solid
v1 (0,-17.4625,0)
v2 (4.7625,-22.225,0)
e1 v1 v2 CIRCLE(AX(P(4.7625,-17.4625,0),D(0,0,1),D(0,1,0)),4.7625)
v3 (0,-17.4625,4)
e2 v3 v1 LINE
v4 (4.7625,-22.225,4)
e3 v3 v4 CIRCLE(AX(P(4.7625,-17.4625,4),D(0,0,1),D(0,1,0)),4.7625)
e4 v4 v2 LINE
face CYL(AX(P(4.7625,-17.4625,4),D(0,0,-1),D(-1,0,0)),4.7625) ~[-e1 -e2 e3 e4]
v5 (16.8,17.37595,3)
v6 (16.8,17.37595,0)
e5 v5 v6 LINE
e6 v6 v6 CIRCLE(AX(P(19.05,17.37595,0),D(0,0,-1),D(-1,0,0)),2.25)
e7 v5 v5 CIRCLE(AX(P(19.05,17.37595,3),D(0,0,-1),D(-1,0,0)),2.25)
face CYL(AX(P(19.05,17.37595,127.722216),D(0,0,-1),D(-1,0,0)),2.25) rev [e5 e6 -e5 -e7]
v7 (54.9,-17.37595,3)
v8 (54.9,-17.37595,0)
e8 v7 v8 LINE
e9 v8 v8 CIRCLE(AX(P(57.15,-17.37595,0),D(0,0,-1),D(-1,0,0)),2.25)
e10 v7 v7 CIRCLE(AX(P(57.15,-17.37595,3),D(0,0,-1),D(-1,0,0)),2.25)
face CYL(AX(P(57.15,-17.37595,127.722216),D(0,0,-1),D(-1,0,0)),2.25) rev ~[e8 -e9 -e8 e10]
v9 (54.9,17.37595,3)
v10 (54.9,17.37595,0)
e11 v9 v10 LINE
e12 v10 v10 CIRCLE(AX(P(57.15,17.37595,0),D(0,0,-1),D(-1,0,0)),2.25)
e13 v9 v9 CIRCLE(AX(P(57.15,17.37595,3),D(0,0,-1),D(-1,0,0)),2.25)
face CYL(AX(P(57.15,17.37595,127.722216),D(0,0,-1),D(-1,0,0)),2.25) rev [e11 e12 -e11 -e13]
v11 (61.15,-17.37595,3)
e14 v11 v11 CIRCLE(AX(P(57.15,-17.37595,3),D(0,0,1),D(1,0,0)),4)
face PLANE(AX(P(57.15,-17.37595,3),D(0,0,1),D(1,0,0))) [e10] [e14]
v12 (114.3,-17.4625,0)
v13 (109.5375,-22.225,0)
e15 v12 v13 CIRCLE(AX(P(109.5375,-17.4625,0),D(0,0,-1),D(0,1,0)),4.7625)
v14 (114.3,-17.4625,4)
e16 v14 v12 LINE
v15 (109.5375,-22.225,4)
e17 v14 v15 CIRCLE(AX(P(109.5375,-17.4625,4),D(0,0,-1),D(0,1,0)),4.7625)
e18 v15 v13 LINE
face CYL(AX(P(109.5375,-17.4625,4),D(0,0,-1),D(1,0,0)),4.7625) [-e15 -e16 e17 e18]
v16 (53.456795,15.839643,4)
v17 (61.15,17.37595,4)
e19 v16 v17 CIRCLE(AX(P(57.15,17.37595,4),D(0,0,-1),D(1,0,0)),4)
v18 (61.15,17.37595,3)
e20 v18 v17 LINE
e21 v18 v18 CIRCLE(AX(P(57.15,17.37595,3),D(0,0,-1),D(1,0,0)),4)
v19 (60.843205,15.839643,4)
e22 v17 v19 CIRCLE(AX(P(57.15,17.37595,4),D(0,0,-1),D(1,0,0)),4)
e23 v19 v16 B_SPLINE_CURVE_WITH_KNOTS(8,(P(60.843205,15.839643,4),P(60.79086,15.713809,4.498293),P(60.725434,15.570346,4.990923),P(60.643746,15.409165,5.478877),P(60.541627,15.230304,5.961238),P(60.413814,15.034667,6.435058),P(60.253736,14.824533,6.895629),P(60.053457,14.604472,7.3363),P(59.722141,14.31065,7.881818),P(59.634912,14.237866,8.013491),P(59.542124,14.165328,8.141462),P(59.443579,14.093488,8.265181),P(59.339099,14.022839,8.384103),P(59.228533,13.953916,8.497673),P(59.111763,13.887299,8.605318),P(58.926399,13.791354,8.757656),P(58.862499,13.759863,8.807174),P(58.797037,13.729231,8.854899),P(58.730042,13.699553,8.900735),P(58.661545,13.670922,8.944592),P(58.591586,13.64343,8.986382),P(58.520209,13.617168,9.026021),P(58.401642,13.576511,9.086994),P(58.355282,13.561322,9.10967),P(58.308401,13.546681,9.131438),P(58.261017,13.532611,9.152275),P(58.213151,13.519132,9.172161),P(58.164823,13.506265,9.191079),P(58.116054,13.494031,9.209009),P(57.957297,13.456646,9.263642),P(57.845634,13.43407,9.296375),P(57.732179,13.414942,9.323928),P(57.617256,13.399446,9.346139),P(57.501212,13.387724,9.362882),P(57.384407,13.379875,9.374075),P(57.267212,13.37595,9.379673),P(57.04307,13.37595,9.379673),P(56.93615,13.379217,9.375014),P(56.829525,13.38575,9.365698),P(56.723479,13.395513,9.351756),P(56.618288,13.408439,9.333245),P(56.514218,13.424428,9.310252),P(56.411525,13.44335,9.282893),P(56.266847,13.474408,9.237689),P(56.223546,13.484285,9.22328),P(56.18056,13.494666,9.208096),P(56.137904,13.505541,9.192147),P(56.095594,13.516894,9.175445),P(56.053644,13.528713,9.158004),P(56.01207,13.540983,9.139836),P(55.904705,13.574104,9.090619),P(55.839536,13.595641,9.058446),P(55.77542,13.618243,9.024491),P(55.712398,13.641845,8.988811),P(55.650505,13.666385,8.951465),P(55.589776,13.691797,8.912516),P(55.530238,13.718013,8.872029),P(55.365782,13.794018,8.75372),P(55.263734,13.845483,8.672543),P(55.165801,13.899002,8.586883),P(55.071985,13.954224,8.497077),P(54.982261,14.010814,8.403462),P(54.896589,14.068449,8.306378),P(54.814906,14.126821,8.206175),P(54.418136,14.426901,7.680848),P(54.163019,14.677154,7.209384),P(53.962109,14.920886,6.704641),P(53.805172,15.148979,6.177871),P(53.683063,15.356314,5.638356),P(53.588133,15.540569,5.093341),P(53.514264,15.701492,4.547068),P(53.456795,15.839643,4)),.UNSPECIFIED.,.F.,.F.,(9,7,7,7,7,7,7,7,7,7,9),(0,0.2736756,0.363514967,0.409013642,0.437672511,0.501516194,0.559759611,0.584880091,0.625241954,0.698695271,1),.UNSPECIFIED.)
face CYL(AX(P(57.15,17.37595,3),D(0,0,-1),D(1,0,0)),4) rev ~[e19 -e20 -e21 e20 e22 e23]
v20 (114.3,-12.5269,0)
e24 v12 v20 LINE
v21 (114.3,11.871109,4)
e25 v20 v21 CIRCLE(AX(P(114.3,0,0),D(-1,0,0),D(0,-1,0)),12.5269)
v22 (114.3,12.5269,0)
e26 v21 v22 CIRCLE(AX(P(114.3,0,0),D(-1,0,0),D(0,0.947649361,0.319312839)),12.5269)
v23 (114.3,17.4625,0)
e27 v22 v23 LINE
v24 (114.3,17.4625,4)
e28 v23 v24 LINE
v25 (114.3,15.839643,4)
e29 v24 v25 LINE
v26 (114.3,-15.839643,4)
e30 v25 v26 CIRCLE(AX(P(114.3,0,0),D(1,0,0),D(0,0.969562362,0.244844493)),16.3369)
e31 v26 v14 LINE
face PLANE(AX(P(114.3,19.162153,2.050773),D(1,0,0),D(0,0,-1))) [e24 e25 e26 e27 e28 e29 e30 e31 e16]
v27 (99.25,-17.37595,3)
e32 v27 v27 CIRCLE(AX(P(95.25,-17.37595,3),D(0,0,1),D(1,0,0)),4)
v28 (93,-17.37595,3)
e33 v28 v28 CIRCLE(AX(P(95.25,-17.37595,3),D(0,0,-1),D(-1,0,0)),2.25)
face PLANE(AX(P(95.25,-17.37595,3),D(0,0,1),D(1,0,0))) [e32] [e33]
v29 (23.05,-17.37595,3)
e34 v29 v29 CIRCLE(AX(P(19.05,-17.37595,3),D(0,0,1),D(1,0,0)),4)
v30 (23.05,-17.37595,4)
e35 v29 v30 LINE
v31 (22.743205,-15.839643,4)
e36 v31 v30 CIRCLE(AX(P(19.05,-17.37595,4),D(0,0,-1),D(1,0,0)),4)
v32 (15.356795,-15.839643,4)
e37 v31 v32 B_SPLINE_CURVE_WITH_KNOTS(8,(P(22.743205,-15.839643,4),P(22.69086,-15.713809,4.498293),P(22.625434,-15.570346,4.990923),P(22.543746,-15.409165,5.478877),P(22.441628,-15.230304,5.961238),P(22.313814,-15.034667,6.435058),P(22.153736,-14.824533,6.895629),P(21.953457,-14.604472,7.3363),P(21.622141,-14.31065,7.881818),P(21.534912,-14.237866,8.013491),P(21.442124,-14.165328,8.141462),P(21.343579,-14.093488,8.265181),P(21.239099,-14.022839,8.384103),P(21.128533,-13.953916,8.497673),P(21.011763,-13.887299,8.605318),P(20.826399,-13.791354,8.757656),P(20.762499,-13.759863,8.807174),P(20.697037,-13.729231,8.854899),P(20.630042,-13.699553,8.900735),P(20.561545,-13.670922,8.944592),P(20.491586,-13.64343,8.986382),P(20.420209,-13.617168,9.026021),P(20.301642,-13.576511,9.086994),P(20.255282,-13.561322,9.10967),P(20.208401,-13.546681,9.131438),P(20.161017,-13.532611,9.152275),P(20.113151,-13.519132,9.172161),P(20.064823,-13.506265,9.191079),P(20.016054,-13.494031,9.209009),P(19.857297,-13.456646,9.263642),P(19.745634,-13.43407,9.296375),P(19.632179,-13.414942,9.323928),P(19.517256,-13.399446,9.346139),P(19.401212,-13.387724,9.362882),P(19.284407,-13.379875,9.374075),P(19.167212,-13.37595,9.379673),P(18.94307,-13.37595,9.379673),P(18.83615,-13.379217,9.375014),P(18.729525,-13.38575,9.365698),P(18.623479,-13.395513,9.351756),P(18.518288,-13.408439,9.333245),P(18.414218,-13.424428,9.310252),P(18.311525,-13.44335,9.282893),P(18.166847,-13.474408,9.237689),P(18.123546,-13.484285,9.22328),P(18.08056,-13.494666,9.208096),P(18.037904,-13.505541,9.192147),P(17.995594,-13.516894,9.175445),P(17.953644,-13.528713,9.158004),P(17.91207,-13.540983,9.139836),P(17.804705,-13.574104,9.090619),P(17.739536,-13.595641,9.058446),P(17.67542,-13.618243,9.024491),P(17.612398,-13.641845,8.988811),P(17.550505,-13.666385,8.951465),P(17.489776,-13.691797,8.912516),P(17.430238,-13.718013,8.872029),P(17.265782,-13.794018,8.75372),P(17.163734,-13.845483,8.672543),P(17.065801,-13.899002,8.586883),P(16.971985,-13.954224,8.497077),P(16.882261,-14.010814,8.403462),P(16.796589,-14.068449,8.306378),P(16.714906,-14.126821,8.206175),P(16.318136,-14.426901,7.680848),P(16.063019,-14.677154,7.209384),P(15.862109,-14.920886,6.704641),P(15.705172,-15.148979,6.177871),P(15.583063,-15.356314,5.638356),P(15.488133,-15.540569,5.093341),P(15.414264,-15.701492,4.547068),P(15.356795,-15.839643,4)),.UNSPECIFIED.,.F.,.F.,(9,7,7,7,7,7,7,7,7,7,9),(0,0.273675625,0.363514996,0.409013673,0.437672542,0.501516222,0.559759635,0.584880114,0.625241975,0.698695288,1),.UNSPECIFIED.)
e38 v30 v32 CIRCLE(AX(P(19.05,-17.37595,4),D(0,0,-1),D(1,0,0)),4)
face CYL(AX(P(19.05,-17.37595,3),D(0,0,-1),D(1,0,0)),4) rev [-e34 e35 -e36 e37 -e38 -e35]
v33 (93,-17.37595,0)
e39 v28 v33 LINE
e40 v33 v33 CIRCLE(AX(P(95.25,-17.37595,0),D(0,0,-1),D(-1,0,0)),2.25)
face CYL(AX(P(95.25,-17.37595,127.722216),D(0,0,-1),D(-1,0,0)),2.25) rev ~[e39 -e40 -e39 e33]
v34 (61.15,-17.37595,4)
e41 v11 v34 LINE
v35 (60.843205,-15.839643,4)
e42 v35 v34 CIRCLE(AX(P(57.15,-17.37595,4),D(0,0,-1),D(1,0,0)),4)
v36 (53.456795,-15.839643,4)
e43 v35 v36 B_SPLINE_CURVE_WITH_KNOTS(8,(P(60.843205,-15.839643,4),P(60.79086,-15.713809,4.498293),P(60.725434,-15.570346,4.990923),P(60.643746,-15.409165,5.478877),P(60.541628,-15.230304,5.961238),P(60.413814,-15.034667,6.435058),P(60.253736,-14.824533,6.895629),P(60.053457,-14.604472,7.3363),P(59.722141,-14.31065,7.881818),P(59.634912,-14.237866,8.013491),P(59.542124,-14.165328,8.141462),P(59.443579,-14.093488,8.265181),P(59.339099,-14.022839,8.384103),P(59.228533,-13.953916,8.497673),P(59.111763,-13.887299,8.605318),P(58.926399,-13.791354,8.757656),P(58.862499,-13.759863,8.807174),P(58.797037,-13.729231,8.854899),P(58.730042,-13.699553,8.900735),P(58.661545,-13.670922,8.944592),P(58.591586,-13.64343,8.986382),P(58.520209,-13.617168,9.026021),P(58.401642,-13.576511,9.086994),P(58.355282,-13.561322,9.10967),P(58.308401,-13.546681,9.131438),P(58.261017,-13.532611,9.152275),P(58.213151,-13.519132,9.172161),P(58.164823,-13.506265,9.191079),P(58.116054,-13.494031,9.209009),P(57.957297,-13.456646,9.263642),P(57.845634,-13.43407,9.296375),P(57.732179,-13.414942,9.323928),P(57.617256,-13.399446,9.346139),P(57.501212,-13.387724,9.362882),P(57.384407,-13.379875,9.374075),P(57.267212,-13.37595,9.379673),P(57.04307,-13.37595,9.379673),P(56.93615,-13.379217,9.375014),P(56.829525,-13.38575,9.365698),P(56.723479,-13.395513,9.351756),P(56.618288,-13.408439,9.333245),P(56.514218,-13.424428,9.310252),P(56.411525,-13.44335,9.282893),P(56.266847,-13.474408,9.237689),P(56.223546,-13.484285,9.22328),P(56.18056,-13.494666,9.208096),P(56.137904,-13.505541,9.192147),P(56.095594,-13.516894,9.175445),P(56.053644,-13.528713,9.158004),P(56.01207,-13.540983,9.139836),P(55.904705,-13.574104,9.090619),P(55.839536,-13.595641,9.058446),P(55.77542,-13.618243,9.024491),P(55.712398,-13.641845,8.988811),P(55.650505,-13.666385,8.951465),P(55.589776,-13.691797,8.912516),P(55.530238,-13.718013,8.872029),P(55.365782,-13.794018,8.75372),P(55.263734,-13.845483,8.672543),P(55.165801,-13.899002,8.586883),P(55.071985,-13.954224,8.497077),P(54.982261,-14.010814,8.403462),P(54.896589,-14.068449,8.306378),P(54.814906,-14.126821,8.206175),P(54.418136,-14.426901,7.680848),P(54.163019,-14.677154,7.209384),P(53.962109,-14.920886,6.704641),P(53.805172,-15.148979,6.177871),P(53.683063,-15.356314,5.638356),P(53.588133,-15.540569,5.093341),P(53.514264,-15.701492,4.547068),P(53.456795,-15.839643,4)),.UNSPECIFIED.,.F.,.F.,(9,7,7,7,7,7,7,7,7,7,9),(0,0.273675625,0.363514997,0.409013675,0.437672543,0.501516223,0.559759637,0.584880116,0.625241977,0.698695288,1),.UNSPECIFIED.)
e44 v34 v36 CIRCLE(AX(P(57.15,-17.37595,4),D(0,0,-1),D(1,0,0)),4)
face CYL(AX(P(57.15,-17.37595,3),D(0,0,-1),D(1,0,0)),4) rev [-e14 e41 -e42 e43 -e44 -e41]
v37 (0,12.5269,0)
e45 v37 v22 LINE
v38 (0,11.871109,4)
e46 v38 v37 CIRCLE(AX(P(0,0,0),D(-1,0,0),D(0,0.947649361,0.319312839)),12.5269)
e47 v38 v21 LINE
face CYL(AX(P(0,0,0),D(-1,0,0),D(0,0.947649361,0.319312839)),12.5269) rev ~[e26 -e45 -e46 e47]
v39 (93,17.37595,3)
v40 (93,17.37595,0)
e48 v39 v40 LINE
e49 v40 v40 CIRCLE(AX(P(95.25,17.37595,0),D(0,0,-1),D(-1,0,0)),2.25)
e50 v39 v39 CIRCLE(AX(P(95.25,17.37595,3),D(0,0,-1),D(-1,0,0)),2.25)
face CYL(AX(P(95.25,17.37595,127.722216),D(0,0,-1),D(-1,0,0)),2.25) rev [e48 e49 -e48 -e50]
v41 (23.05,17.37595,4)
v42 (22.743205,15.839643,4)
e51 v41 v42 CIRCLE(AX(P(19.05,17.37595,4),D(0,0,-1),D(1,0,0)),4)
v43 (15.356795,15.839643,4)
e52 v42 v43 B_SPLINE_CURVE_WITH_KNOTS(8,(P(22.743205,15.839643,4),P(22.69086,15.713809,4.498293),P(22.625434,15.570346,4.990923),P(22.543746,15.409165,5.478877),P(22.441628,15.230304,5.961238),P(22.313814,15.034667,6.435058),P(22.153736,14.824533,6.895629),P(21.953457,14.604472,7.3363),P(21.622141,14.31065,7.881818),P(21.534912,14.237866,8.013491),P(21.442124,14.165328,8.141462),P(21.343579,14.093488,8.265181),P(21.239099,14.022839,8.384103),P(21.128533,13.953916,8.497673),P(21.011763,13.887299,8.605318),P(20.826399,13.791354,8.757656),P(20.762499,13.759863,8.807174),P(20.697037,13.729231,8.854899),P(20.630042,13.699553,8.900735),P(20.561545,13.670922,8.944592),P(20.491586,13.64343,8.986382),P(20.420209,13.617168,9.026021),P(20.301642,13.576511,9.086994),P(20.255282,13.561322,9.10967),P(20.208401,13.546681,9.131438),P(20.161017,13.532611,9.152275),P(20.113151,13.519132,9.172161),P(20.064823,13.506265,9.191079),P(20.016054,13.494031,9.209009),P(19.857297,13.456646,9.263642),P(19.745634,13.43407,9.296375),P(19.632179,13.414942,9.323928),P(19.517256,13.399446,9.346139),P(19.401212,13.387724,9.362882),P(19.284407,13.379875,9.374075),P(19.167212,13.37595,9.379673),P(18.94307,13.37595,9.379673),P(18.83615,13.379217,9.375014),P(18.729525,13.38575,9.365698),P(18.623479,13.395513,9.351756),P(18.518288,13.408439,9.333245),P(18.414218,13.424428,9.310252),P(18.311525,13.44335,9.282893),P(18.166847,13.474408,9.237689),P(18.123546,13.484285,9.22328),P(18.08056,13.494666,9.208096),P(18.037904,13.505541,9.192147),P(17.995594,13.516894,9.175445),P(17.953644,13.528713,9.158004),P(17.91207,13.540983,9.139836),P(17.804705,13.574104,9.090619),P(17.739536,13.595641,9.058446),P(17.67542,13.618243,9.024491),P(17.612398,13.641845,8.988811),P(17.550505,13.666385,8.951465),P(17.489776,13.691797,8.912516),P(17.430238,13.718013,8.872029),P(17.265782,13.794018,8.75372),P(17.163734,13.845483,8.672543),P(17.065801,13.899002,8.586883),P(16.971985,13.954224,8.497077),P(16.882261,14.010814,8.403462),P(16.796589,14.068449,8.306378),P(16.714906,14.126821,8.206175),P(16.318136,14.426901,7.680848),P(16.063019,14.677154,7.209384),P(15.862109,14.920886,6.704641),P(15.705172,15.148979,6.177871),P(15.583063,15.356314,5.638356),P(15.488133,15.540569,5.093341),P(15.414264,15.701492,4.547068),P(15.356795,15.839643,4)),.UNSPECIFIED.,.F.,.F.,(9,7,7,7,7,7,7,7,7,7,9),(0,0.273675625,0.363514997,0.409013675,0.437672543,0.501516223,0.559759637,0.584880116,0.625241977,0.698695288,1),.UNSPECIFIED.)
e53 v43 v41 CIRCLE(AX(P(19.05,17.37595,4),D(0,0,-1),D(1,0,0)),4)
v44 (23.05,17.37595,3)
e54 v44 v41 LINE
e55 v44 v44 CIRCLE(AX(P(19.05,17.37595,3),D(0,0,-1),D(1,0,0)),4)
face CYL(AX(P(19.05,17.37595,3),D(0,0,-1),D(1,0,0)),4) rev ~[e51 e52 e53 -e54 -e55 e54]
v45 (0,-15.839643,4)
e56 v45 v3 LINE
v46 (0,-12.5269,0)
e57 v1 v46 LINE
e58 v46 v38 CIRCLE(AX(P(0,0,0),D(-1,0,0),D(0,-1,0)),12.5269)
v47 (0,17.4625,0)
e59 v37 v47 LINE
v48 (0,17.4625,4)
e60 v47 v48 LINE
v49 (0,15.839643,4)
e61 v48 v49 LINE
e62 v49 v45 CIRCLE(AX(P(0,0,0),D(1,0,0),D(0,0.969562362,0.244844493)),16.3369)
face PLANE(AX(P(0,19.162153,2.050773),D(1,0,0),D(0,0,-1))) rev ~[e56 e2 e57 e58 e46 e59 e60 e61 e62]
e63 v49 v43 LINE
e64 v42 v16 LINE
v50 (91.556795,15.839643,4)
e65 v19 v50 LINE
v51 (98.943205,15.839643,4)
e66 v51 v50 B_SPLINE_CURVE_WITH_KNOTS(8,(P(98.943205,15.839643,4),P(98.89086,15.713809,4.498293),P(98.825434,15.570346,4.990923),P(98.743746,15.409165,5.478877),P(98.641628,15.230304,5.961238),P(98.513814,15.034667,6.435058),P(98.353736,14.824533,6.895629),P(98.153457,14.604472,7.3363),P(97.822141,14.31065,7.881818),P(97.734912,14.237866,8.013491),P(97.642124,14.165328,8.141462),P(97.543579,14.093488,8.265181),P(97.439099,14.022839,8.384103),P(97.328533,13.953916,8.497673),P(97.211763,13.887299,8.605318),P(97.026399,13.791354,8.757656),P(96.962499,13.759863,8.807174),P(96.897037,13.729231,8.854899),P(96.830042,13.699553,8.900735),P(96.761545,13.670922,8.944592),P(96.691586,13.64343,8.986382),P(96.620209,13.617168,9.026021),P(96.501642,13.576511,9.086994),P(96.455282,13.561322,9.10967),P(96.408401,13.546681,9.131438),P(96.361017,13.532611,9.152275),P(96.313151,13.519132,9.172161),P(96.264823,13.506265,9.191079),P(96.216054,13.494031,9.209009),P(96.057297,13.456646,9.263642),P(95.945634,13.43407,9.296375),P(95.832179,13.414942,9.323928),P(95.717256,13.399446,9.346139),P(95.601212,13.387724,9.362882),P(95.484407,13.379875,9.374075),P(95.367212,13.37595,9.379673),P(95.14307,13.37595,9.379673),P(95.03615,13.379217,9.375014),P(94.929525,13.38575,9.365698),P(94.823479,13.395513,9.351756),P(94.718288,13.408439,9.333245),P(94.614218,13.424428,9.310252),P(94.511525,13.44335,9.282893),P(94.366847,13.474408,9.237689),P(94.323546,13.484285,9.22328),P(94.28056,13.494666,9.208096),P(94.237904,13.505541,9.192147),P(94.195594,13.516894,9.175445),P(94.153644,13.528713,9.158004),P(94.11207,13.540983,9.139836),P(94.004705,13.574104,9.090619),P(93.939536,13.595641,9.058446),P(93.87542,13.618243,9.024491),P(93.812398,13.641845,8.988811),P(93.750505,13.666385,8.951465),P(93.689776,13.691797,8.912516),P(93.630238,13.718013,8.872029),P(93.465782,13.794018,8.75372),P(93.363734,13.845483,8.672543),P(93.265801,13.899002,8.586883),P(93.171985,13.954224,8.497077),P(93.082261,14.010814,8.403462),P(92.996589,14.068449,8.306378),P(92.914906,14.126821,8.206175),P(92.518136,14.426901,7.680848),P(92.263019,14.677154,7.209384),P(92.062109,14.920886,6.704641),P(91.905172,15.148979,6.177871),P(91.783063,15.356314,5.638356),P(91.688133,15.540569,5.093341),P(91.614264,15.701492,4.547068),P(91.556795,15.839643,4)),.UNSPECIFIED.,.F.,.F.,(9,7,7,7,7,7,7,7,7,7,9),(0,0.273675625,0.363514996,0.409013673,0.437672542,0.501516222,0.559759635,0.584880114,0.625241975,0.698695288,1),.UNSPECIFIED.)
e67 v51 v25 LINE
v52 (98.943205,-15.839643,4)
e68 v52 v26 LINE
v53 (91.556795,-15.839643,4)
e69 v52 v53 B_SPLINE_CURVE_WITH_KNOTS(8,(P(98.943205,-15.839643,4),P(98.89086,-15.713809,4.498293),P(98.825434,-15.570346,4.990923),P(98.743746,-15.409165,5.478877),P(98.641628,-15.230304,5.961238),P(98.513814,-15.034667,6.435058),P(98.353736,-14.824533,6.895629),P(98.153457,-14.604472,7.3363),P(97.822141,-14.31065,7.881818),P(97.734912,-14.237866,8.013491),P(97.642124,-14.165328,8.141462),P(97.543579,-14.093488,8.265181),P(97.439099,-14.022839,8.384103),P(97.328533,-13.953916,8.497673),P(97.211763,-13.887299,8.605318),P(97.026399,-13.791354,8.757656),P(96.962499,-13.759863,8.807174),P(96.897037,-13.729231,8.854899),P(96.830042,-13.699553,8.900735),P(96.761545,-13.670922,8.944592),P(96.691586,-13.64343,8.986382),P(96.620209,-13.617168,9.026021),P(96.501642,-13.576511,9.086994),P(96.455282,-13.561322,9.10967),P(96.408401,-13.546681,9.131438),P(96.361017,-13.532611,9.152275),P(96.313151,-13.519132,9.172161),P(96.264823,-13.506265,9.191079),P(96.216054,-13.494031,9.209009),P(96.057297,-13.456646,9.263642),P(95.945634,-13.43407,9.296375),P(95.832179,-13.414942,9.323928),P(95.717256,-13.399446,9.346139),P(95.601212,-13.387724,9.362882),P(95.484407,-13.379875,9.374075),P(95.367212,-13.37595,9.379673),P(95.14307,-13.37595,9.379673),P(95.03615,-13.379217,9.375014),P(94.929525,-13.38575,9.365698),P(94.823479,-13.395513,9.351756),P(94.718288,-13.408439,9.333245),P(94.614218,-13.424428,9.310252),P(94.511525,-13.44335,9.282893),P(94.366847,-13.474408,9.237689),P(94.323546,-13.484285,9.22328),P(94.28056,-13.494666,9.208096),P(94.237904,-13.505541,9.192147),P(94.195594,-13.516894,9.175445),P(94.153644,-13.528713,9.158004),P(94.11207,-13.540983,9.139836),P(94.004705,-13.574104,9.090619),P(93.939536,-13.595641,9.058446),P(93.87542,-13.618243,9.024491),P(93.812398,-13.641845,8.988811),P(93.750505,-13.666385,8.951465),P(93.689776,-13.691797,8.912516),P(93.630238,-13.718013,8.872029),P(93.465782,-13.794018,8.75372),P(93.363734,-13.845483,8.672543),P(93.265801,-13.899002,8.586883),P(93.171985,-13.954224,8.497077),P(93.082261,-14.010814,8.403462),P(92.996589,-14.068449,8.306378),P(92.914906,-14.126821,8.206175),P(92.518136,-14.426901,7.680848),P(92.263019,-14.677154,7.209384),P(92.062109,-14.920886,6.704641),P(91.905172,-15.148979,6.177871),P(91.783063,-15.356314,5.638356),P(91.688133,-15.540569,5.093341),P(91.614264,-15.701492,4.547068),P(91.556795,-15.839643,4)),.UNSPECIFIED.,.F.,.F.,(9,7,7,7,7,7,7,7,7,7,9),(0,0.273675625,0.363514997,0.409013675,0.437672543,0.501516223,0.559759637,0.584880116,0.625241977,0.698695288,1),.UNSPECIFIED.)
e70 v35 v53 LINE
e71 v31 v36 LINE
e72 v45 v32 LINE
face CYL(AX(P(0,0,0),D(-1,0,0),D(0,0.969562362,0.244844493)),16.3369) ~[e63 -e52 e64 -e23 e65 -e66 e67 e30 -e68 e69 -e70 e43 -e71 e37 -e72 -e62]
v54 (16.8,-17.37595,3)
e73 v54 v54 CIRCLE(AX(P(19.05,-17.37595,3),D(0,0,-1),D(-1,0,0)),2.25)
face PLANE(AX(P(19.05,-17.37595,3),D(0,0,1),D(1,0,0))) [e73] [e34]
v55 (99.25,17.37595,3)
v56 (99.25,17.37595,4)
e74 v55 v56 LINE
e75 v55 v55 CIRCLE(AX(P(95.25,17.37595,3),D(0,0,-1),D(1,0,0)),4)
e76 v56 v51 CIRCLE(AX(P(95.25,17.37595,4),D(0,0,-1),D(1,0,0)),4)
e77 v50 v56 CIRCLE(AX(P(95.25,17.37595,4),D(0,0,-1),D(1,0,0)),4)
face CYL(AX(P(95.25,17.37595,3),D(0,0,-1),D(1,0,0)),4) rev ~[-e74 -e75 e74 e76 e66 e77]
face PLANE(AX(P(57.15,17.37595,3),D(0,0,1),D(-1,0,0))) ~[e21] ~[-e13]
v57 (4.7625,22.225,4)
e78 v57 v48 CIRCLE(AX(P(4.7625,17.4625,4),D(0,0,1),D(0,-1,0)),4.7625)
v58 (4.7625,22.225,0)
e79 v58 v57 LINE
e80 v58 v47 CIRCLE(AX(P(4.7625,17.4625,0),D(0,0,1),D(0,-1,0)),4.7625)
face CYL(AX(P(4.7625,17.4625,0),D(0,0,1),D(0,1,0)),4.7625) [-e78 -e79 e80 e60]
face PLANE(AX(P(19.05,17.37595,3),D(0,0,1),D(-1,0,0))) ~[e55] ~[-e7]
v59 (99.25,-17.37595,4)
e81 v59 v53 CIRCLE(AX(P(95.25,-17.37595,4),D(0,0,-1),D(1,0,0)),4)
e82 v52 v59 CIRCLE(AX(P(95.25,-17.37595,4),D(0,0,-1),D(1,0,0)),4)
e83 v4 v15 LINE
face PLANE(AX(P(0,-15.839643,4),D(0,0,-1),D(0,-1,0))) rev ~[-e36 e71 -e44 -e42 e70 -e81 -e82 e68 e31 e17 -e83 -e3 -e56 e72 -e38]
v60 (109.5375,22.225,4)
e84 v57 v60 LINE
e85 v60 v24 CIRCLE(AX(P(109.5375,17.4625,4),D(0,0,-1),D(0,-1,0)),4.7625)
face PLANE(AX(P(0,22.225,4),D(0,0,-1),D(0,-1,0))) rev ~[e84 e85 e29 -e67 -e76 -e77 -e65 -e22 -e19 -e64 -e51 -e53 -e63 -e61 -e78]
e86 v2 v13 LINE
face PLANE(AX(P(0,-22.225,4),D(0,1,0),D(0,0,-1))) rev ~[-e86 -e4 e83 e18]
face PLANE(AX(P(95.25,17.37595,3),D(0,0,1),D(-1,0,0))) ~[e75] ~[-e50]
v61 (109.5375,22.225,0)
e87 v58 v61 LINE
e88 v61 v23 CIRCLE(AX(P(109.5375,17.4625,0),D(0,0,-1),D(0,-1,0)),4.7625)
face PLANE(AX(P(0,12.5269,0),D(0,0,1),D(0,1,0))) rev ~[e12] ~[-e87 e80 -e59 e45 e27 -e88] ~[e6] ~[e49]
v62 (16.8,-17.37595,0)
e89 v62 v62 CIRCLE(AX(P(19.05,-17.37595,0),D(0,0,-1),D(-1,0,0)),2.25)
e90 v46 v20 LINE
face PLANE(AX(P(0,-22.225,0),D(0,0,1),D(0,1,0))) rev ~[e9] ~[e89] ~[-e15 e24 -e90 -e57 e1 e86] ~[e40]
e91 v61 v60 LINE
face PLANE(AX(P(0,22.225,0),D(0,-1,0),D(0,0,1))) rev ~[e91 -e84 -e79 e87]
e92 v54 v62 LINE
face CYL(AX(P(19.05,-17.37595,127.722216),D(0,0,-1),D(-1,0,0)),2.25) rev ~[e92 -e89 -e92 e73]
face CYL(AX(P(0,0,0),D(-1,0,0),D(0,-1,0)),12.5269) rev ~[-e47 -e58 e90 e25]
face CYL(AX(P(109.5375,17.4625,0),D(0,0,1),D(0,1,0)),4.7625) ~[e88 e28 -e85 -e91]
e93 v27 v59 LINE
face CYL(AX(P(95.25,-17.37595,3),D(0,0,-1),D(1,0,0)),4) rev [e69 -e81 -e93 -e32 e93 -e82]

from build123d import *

# Parameters (mm, degrees)
BOSS_EXTRUDE1_DEPTH  = 114.3
CUT_EXTRUDE1_START   = -1
SKETCH2_R            = 4
CUT_EXTRUDE1_DEPTH   = 7.35
M4_CLEARANCE_HOLE1_D = 4.5
FILLET1_R            = 4.7625


with BuildPart() as part:
    # Sketch1 → Boss-Extrude1 (new body)
    with BuildSketch(Plane(origin=(0, 0, 0), x_dir=(0, 0, -1), z_dir=(1, 0, 0))):
        with BuildLine():
            Line((0, 22.225), (-4, 22.225))
            Line((-4, 22.225), (-4, 15.839643355))
            ThreePointArc((-4, 15.839643355), (-2.015394761, 16.212109226), (0, 16.3369))
            Line((0, 16.3369), (0, 17.4625))
            Line((0, 17.4625), (0, 22.225))
        make_face()
        with BuildLine():
            ThreePointArc((0, 16.3369), (-2.015394761, 16.212109226), (-4, 15.839643355))
            ThreePointArc((-4, 15.839643355), (-16.3369, 0), (-4, -15.839643355))
            ThreePointArc((-4, -15.839643355), (-2.015394761, -16.212109226), (0, -16.3369))
            Line((0, -16.3369), (0, -12.5269))
            ThreePointArc((0, -12.5269), (-12.361865073, -2.026700652), (-4, 11.871108778))
            ThreePointArc((-4, 11.871108778), (-2.026700652, 12.361865073), (0, 12.5269))
            Line((0, 12.5269), (0, 16.3369))
        make_face()
        with BuildLine():
            ThreePointArc((0, -16.3369), (-2.015394761, -16.212109226), (-4, -15.839643355))
            Line((-4, -15.839643355), (-4, -22.225))
            Line((-4, -22.225), (0, -22.225))
            Line((0, -22.225), (0, -17.4625))
            Line((0, -17.4625), (0, -16.3369))
        make_face()
    extrude(amount=BOSS_EXTRUDE1_DEPTH)

    # Sketch2 → Cut-Extrude1 (cut)
    with BuildSketch(Plane.XY.offset(4).offset(CUT_EXTRUDE1_START)):
        with Locations((19.05, -17.37595)):
            Circle(SKETCH2_R)
        with Locations((57.15, -17.37595)):
            Circle(SKETCH2_R)
        with Locations((95.25, -17.37595)):
            Circle(SKETCH2_R)
    cut_extrude1 = extrude(amount=CUT_EXTRUDE1_DEPTH, mode=Mode.SUBTRACT)

    # M4 Clearance Hole1 (through all)
    with Locations(Plane.XY.offset(4)):
        with Locations((19.05, -17.37595), (57.15, -17.37595), (95.25, -17.37595)):
            m4_clearance_hole1 = Hole(M4_CLEARANCE_HOLE1_D / 2)

    # Mirror1: Cut-Extrude1, M4 Clearance Hole1 across plane
    add(cut_extrude1.mirror(Plane.ZX), mode=Mode.SUBTRACT)
    add(m4_clearance_hole1.mirror(Plane.ZX), mode=Mode.SUBTRACT)

    # Fillet1
    fillet1_edges = [part.edges().sort_by_distance(p)[0] for p in [
        (0, 22.225, 2),
        (0, -22.225, 2),
        (114.3, -22.225, 2),
        (114.3, 22.225, 2),
    ]]
    fillet(fillet1_edges, radius=FILLET1_R)


solid = part.part
